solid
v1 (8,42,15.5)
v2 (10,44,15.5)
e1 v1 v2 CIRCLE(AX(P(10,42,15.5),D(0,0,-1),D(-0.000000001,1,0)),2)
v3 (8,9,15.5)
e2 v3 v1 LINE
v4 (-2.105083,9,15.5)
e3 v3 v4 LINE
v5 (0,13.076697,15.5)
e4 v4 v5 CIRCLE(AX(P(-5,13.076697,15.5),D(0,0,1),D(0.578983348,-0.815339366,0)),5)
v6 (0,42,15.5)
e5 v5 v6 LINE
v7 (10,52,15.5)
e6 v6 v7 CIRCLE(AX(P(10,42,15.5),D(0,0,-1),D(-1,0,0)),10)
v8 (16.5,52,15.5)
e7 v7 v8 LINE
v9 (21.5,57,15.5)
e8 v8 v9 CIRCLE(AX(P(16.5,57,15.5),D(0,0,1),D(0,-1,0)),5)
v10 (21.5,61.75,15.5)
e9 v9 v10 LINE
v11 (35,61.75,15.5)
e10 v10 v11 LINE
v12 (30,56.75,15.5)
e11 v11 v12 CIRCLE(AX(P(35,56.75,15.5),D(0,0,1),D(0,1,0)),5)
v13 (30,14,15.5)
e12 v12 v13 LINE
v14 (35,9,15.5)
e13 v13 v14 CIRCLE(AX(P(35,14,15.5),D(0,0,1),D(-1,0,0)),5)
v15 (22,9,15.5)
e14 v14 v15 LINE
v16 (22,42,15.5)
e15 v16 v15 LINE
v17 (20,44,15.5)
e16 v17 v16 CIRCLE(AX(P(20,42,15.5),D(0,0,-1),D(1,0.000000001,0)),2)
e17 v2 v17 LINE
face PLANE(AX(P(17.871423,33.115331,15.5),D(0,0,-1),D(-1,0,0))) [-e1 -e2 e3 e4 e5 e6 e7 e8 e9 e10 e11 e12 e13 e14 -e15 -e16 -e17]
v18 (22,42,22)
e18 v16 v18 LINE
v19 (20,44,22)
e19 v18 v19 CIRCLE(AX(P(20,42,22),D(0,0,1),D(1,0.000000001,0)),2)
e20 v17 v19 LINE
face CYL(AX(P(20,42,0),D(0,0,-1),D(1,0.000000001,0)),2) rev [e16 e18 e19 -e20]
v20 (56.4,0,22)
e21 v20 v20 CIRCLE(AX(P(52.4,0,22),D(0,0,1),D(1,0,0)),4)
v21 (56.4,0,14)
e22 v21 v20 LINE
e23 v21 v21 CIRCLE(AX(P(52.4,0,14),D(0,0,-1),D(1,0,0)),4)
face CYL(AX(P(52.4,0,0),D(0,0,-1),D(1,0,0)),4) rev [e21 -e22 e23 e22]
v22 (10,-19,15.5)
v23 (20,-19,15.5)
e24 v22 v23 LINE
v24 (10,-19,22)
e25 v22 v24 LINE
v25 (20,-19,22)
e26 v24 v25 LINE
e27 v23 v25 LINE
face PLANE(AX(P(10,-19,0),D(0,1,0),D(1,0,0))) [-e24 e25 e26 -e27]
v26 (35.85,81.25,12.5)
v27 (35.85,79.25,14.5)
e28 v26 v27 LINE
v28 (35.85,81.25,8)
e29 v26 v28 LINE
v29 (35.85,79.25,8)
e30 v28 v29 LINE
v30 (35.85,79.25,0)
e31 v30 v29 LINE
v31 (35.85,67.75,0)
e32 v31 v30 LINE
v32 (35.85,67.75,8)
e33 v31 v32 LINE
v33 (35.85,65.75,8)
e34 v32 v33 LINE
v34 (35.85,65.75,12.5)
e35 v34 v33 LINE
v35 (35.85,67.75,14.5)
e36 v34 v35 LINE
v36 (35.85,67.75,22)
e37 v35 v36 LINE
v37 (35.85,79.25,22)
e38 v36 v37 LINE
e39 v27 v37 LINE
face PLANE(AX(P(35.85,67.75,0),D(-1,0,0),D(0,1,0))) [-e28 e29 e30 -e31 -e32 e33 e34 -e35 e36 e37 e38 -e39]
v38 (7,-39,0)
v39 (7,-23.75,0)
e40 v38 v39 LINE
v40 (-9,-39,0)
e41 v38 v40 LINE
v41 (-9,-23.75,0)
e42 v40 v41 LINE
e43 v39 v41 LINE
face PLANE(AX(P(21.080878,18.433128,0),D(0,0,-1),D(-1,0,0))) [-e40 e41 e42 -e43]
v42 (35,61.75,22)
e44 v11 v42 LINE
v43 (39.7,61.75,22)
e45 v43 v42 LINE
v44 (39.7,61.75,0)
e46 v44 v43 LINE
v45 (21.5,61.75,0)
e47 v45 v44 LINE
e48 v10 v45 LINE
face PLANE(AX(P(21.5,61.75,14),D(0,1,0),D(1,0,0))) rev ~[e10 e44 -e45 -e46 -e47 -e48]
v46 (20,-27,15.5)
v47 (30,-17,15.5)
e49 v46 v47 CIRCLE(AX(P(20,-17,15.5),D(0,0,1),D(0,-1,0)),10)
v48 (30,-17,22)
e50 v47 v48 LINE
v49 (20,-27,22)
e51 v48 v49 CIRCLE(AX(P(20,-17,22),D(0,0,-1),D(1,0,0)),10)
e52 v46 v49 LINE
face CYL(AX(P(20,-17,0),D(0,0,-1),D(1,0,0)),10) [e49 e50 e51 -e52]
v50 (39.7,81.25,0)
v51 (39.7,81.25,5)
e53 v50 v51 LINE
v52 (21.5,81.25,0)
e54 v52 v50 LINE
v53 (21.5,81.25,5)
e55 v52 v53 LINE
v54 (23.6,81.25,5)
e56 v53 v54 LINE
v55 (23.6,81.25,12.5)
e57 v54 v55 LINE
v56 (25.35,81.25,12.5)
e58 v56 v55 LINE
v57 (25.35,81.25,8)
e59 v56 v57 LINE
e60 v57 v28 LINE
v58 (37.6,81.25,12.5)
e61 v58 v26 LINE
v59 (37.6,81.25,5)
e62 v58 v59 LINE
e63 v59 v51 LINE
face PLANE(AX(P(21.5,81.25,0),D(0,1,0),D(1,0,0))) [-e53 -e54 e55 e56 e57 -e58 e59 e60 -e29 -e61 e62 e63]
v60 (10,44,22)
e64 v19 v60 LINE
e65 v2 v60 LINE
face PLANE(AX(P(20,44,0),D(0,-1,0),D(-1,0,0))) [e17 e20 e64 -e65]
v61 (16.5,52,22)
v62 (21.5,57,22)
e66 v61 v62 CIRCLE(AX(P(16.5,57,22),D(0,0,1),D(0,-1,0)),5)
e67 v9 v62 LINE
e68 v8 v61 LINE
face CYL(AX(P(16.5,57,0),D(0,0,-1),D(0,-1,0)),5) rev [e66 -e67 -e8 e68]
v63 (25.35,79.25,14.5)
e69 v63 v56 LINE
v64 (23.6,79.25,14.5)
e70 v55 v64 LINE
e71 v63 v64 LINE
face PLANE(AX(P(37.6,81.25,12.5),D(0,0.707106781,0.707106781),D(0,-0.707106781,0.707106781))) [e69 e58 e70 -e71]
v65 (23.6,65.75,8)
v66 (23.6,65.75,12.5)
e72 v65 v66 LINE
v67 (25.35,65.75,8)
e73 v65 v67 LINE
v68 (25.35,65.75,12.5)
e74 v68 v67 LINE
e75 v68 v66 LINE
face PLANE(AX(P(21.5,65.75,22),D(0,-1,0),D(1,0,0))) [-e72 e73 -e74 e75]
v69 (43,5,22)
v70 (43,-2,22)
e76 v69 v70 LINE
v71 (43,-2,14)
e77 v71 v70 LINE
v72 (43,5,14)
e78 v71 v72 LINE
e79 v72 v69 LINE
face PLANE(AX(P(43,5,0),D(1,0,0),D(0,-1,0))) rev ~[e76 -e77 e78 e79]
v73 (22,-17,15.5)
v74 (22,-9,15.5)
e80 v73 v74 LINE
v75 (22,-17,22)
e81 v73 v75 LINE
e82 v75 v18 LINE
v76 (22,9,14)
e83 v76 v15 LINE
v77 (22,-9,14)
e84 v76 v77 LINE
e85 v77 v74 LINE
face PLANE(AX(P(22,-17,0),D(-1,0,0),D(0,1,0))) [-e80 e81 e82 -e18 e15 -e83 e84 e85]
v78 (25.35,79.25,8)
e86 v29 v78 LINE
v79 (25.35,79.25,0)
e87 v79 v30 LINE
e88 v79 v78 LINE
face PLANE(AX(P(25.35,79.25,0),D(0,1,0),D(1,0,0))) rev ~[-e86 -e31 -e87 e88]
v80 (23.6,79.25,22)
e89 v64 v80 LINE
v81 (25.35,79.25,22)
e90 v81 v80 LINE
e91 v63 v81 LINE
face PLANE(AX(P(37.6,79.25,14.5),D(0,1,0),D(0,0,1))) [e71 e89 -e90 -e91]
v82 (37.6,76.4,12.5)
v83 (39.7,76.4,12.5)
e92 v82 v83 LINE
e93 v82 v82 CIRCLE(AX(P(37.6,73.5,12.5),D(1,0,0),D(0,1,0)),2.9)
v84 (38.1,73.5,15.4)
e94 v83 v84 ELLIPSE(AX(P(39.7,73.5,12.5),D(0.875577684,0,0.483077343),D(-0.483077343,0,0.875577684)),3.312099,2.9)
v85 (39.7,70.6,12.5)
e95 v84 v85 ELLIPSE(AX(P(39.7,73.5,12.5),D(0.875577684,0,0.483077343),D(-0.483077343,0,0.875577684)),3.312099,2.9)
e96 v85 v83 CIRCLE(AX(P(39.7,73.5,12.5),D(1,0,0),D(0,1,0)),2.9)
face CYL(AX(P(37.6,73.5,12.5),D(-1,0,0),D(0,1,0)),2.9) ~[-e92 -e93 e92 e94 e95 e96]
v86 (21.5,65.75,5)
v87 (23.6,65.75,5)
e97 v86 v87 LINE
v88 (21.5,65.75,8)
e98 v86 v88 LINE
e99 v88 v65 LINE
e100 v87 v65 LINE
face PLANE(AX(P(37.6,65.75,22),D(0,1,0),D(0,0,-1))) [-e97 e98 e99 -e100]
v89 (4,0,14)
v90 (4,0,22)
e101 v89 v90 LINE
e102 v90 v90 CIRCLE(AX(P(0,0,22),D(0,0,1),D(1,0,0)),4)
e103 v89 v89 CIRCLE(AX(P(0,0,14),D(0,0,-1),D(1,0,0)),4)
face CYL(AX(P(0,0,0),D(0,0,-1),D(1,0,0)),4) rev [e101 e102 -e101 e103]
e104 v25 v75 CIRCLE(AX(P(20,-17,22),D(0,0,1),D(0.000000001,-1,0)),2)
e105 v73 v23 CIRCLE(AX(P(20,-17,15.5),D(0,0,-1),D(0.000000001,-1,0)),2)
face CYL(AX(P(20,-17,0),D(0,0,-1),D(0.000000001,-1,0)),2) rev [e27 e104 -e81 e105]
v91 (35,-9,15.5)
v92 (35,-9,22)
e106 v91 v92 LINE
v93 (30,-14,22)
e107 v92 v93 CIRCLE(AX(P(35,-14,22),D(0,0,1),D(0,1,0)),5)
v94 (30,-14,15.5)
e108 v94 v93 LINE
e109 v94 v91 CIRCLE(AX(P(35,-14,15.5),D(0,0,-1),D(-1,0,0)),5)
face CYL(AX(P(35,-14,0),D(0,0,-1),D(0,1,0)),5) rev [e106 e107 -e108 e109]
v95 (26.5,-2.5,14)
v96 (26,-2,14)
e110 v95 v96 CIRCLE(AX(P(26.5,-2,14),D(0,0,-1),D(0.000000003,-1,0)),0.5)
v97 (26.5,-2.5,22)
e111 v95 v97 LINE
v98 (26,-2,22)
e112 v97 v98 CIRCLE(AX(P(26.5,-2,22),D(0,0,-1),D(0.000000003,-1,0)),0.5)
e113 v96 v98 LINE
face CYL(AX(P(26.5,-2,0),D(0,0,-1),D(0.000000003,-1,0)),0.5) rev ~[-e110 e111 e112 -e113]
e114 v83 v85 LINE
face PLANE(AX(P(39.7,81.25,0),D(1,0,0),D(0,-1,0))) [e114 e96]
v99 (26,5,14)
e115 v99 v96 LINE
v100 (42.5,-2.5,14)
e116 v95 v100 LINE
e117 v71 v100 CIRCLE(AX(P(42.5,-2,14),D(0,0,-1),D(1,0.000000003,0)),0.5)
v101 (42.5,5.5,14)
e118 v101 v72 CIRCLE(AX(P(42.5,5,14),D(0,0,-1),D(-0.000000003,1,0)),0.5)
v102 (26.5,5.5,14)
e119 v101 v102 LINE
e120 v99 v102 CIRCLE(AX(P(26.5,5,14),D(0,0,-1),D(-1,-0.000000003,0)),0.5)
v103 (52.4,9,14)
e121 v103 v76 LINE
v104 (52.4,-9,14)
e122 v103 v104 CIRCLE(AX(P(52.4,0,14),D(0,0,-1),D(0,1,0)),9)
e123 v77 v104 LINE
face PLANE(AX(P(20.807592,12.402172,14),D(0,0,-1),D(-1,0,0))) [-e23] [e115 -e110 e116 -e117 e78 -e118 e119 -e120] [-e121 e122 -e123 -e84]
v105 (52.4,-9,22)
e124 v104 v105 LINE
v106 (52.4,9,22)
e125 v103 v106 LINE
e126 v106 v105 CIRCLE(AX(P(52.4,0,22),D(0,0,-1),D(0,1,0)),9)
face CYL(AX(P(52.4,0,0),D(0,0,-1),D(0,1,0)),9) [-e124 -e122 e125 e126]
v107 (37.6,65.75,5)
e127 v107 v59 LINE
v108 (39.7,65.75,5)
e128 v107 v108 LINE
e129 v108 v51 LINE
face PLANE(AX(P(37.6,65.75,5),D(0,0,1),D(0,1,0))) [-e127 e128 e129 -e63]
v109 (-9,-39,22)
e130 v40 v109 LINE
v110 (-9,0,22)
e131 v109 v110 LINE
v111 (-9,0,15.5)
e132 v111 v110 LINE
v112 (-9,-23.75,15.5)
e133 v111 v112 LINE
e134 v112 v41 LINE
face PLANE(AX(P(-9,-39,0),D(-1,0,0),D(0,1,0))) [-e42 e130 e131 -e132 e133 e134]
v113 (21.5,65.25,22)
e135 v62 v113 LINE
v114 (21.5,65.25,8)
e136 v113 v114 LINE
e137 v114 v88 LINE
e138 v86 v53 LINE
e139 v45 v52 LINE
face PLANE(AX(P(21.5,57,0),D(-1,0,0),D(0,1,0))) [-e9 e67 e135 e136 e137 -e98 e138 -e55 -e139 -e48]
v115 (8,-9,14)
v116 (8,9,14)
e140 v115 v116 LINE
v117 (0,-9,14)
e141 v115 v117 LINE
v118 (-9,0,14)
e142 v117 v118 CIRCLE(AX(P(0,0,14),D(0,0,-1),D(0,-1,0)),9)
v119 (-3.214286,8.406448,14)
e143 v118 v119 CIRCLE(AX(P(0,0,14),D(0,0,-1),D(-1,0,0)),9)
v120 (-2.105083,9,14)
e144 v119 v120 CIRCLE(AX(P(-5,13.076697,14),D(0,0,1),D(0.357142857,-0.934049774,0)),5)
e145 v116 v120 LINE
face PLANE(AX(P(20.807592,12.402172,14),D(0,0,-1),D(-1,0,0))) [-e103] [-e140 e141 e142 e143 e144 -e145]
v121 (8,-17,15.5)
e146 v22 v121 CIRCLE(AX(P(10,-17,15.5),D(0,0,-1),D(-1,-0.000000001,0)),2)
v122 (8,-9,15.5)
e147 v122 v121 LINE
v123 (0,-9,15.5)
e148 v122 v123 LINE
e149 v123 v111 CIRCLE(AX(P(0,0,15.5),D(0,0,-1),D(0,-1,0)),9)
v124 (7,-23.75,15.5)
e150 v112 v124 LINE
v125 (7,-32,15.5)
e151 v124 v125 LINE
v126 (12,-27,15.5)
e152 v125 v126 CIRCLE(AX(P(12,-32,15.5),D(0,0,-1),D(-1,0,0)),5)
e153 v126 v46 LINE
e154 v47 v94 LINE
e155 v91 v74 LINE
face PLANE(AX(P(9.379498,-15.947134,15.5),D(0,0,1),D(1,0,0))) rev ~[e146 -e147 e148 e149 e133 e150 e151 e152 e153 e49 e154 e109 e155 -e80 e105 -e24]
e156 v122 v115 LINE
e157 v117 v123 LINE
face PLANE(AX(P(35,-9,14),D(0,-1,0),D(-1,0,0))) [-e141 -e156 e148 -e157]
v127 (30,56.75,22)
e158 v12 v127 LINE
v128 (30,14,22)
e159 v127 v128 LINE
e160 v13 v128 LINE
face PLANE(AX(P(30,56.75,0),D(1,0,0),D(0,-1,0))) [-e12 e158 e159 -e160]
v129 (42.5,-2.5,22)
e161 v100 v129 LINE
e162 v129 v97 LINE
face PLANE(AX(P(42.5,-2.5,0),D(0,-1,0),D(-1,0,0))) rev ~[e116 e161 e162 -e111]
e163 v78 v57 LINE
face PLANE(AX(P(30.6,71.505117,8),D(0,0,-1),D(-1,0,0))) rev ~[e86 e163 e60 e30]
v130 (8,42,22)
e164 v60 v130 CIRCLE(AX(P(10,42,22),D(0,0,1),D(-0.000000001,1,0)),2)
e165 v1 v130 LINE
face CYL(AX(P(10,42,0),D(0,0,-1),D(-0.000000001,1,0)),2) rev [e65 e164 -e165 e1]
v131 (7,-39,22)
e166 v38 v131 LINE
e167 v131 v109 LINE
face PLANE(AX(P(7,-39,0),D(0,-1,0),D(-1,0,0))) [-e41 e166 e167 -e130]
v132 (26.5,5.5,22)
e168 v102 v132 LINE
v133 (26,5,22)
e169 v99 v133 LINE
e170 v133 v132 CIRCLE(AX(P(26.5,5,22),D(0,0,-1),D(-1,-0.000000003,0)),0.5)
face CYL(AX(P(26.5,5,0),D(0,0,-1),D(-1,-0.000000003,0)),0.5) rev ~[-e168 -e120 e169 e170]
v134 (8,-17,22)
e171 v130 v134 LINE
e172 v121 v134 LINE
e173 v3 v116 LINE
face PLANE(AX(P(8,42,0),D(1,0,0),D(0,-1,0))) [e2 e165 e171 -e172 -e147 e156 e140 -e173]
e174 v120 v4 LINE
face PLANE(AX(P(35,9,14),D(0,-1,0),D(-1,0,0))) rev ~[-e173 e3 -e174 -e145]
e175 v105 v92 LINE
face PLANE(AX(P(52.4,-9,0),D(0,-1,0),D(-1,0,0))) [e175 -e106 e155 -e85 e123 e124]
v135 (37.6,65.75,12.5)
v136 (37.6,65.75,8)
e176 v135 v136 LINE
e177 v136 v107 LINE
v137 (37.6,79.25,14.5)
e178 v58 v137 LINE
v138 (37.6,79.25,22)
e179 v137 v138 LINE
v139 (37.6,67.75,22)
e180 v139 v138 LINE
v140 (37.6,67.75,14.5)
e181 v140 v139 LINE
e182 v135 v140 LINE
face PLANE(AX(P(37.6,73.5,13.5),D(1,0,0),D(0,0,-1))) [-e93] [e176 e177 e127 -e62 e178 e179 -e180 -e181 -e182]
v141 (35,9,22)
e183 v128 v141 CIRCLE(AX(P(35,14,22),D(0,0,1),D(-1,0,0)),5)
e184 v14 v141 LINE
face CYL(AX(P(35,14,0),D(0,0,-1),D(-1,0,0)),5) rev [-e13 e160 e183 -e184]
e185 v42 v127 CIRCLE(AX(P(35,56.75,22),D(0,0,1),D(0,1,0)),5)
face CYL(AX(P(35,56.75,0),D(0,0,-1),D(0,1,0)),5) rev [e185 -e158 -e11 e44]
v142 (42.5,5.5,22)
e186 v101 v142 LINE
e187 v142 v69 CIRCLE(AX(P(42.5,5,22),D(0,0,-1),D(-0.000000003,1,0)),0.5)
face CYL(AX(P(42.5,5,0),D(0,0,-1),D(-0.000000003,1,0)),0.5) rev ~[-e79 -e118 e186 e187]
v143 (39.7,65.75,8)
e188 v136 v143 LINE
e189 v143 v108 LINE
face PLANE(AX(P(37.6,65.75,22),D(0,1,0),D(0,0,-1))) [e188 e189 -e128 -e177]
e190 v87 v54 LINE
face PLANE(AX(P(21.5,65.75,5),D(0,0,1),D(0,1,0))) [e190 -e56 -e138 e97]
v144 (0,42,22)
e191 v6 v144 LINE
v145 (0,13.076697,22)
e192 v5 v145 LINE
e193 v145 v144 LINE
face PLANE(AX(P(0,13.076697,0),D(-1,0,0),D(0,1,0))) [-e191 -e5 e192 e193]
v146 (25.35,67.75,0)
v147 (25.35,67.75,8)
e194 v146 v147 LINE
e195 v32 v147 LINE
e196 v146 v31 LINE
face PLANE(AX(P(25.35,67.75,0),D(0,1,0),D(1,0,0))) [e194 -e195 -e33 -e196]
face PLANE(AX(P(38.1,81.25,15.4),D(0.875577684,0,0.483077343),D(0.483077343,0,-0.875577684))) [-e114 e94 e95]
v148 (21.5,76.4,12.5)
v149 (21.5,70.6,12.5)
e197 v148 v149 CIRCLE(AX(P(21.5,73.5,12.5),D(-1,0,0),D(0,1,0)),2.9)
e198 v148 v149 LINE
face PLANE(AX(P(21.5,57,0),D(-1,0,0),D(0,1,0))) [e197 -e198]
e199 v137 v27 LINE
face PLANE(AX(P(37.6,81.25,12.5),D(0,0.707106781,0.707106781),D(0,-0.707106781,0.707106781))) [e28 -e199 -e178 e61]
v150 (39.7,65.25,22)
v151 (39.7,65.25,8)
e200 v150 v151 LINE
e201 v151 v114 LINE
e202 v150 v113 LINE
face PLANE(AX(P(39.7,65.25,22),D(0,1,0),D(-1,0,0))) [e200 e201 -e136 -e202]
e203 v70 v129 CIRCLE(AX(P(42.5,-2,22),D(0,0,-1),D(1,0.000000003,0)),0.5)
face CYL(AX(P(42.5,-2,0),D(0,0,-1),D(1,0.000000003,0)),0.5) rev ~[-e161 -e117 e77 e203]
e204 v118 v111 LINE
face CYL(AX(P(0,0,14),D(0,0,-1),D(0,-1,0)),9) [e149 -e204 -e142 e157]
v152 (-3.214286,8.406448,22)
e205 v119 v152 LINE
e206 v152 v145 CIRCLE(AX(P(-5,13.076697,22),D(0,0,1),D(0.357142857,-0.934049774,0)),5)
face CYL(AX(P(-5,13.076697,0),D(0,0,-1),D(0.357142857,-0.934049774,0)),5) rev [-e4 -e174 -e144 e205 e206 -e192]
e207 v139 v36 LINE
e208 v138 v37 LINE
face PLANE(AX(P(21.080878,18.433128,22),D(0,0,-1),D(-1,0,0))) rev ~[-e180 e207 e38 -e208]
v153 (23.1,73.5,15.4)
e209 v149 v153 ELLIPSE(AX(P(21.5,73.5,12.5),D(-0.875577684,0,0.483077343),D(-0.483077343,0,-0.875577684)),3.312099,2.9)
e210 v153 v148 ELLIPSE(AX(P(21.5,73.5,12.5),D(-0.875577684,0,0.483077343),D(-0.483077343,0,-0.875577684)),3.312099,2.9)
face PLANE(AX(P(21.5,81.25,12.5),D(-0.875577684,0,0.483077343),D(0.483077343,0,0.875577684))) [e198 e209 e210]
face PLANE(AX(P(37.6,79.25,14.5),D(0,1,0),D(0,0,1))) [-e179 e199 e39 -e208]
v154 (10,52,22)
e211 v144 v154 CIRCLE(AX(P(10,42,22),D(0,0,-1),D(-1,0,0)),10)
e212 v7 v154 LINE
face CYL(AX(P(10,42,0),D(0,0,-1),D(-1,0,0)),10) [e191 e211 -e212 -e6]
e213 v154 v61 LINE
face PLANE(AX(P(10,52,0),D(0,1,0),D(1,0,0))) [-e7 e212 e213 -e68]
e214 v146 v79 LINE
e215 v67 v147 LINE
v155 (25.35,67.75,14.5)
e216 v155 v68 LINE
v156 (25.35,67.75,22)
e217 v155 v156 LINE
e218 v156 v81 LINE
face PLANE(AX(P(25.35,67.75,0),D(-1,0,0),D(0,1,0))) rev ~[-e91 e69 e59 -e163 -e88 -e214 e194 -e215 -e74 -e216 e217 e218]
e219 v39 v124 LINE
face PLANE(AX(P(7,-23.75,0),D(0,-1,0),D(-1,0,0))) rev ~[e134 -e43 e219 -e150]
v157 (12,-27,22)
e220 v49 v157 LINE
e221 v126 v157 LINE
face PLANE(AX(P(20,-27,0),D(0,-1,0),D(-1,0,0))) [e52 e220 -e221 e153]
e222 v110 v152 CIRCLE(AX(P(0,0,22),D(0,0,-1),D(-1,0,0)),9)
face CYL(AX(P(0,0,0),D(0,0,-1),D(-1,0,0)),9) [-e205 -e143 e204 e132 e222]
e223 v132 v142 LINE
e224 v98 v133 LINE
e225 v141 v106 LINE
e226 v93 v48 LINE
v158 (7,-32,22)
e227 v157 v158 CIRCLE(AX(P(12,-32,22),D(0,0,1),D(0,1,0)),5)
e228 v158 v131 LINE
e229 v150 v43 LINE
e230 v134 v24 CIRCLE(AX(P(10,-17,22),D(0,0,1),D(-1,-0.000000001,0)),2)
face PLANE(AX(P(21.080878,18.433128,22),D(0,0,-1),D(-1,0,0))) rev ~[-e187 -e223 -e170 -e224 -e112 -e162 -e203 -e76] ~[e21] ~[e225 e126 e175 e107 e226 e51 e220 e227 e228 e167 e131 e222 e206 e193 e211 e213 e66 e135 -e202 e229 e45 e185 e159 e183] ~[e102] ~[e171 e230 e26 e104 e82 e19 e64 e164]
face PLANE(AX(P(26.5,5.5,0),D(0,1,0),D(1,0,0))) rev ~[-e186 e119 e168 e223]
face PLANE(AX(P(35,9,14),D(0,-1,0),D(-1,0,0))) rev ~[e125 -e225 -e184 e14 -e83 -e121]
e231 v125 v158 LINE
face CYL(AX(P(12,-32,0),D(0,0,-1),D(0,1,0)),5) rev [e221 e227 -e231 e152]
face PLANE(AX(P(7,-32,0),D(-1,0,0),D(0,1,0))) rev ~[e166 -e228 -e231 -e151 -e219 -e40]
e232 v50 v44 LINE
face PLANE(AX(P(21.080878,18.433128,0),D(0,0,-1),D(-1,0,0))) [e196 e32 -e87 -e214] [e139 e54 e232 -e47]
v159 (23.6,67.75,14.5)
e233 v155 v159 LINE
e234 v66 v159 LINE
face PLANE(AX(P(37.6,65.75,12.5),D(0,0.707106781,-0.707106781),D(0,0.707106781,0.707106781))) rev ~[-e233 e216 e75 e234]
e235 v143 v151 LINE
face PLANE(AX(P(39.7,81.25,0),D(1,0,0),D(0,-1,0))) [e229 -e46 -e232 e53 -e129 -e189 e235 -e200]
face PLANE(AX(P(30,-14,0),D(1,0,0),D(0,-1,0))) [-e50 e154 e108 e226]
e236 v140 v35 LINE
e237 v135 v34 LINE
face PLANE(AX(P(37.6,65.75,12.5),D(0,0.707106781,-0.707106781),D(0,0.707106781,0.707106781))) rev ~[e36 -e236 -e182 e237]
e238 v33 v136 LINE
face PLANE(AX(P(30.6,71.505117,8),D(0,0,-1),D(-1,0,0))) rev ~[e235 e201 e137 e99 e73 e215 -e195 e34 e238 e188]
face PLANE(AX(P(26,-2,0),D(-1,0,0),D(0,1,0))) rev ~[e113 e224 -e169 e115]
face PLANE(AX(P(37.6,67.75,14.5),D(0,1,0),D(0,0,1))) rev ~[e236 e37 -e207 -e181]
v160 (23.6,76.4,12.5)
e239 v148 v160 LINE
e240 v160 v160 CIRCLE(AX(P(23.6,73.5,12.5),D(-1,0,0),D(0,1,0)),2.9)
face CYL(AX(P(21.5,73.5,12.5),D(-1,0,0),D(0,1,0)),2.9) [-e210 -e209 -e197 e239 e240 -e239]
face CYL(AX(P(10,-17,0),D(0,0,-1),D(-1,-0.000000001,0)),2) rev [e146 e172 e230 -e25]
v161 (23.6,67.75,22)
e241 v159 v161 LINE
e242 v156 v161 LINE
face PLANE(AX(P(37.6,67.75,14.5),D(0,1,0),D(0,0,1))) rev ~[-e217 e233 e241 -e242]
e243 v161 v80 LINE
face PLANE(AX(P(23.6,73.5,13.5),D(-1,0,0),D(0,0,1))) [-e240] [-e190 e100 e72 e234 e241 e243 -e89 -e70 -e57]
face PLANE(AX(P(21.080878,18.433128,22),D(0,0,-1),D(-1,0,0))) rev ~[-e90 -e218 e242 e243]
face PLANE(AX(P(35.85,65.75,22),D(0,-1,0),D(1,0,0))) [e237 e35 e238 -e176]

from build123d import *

# Parameters (mm, degrees)
SKETCH1_R           = 4
SKETCH1_W           = 10.5
SKETCH1_H           = 11.5
BOSS_EXTRUDE1_DEPTH = 22
CUT_EXTRUDE1_DEPTH  = 14
SKETCH5_W           = 17
SKETCH5_H           = 15.5
SKETCH5_R           = 2.9
CUT_EXTRUDE2_DEPTH  = 2.1
CUT_EXTRUDE3_START  = -2.1
SKETCH4_W           = 17
SKETCH4_H           = 15.5
SKETCH4_R           = 2.9
CUT_EXTRUDE3_DEPTH  = 2.1
CUT_EXTRUDE4_START  = -16.1
CUT_EXTRUDE4_DEPTH  = 14
CUT_EXTRUDE5_DEPTH  = 14
CUT_EXTRUDE6_REACH  = 138.799
CUT_EXTRUDE8_DEPTH  = 1.5


with BuildPart() as part:
    # Sketch1 → Boss-Extrude1 (new body)
    with BuildSketch(Plane.XY):
        with BuildLine():
            Line((0, 13.076696831), (0, 42))
            ThreePointArc((0, 42), (2.928932188, 49.071067812), (10, 52))
            Line((10, 52), (16.5, 52))
            ThreePointArc((16.5, 52), (20.035533906, 53.464466094), (21.5, 57))
            Line((21.5, 57), (21.5, 81.25))
            Line((21.5, 81.25), (39.7, 81.25))
            Line((39.7, 81.25), (39.7, 61.75))
            Line((39.7, 61.75), (35, 61.75))
            ThreePointArc((35, 61.75), (31.464466094, 60.285533906), (30, 56.75))
            Line((30, 56.75), (30, 14))
            ThreePointArc((30, 14), (31.464466094, 10.464466094), (35, 9))
            Line((35, 9), (52.4, 9))
            ThreePointArc((52.4, 9), (61.4, 0), (52.4, -9))
            Line((52.4, -9), (35, -9))
            ThreePointArc((35, -9), (31.464466094, -10.464466094), (30, -14))
            Line((30, -14), (30, -17))
            ThreePointArc((30, -17), (27.071067812, -24.071067812), (20, -27))
            Line((20, -27), (12, -27))
            ThreePointArc((12, -27), (8.464466094, -28.464466094), (7, -32))
            Line((7, -32), (7, -39))
            Line((7, -39), (-9, -39))
            Line((-9, -39), (-9, 0))
            ThreePointArc((-9, 0), (-7.413790239, 5.102520386), (-3.214285714, 8.406447963))
            ThreePointArc((-3.214285714, 8.406447963), (-0.881227645, 10.241963283), (0, 13.076696831))
        make_face()
        Circle(SKETCH1_R, mode=Mode.SUBTRACT)
        with Locations((52.4, 0)):
            Circle(SKETCH1_R, mode=Mode.SUBTRACT)
        with BuildLine():
            Line((42.5, -2.5), (26.5, -2.5))
            ThreePointArc((26.5, -2.5), (26.146446609, -2.353553391), (26, -2))
            Line((26, -2), (26, 5))
            ThreePointArc((26, 5), (26.146446609, 5.353553391), (26.5, 5.5))
            Line((26.5, 5.5), (42.5, 5.5))
            ThreePointArc((42.5, 5.5), (42.853553391, 5.353553391), (43, 5))
            Line((43, 5), (43, -2))
            ThreePointArc((43, -2), (42.853553391, -2.353553391), (42.5, -2.5))
        make_face(mode=Mode.SUBTRACT)
        with BuildLine():
            Line((8, 42), (8, -17))
            ThreePointArc((8, -17), (8.585786438, -18.414213562), (10, -19))
            Line((10, -19), (20, -19))
            ThreePointArc((20, -19), (21.414213562, -18.414213562), (22, -17))
            Line((22, -17), (22, 42))
            ThreePointArc((22, 42), (21.414213562, 43.414213562), (20, 44))
            Line((20, 44), (10, 44))
            ThreePointArc((10, 44), (8.585786438, 43.414213562), (8, 42))
        make_face(mode=Mode.SUBTRACT)
        with Locations((30.6, 73.5)):
            Rectangle(SKETCH1_W, SKETCH1_H, mode=Mode.SUBTRACT)
    extrude(amount=BOSS_EXTRUDE1_DEPTH)

    # Sketch3 → Cut-Extrude1 (cut)
    with BuildSketch(Plane(origin=(0, 0, 0), x_dir=(-1, 0, 0), z_dir=(0, 0, -1))):
        with BuildLine():
            Line((-21.5, 61.75), (-35, 61.75))
            ThreePointArc((-35, 61.75), (-31.464466094, 60.285533906), (-30, 56.75))
            Line((-30, 56.75), (-30, 14))
            ThreePointArc((-30, 14), (-31.464466094, 10.464466094), (-35, 9))
            Line((-35, 9), (-52.4, 9))
            ThreePointArc((-52.4, 9), (-61.4, 0), (-52.4, -9))
            Line((-52.4, -9), (-35, -9))
            ThreePointArc((-35, -9), (-31.464466094, -10.464466094), (-30, -14))
            Line((-30, -14), (-30, -17))
            ThreePointArc((-30, -17), (-27.071067812, -24.071067812), (-20, -27))
            Line((-20, -27), (-12, -27))
            ThreePointArc((-12, -27), (-8.464466094, -28.464466094), (-7, -32))
            Line((-7, -32), (-7, -23.75))
            Line((-7, -23.75), (9, -23.75))
            Line((9, -23.75), (9, 0))
            ThreePointArc((9, 0), (7.413790239, 5.102520386), (3.214285714, 8.406447963))
            ThreePointArc((3.214285714, 8.406447963), (0.881227645, 10.241963283), (0, 13.076696831))
            Line((0, 13.076696831), (0, 42))
            ThreePointArc((0, 42), (-2.928932188, 49.071067812), (-10, 52))
            Line((-10, 52), (-16.5, 52))
            ThreePointArc((-16.5, 52), (-20.035533906, 53.464466094), (-21.5, 57))
            Line((-21.5, 57), (-21.5, 61.75))
        make_face()
    extrude(amount=-CUT_EXTRUDE1_DEPTH, mode=Mode.SUBTRACT)

    # Sketch5 → Cut-Extrude2 (cut)
    with BuildSketch(Plane.ZY.offset(-21.5)):
        with Locations((13.5, 73.5)):
            Rectangle(SKETCH5_W, SKETCH5_H)
        with Locations(Location((12.5, 73.5, 0), (0, 0, 90))):
            Circle(SKETCH5_R, mode=Mode.SUBTRACT)
    extrude(amount=-CUT_EXTRUDE2_DEPTH, mode=Mode.SUBTRACT)

    # Sketch4 → Cut-Extrude3 (cut)
    with BuildSketch(Plane(origin=(39.7, 0, 0), x_dir=(0, 0, -1), z_dir=(1, 0, 0)).offset(CUT_EXTRUDE3_START)):
        with Locations((-13.5, 73.5)):
            Rectangle(SKETCH4_W, SKETCH4_H)
        with Locations(Location((-12.5, 73.5, 0), (0, 0, 90))):
            Circle(SKETCH4_R, mode=Mode.SUBTRACT)
    extrude(amount=CUT_EXTRUDE3_DEPTH, mode=Mode.SUBTRACT)

    # Sketch6 → Cut-Extrude4 (cut)
    with BuildSketch(Plane.ZY.offset(-21.5).offset(CUT_EXTRUDE4_START)):
        Polygon((12.5, 81.25), (14.5, 79.25), (22, 79.25), (22, 81.25), align=None)
        Polygon((12.5, 65.75), (14.5, 67.75), (22, 67.75), (22, 65.75), align=None)
    extrude(amount=CUT_EXTRUDE4_DEPTH, mode=Mode.SUBTRACT)

    # Sketch7 → Cut-Extrude5 (cut)
    with BuildSketch(Plane.XY.offset(22)):
        Polygon((25.35, 81.25), (35.85, 81.25), (35.85, 65.75), (39.7, 65.75), (39.7, 65.25), (21.5, 65.25), (21.5, 65.75), (25.35, 65.75), align=None)
    extrude(amount=-CUT_EXTRUDE5_DEPTH, mode=Mode.SUBTRACT)

    # Cut-Extrude6: up to this face of the body (flat: up to its plane)
    cut_extrude6_end = Plane(part.part.faces().sort_by_distance((22.55, 65.75, 6.5))[0])
    # Sketch8 → Cut-Extrude6 (cut, up to the picked face)
    with BuildSketch(Plane(origin=(0, 81.25, 0), x_dir=(1, 0, 0), z_dir=(0, 1, 0)), mode=Mode.PRIVATE) as cut_extrude6_sk1:
        Polygon((21.5, -12.5), (23.1, -15.4), (21.5, -15.4), align=None)
    cut_extrude6_tool1 = split(extrude(cut_extrude6_sk1.sketch, amount=-CUT_EXTRUDE6_REACH, mode=Mode.PRIVATE), bisect_by=cut_extrude6_end, keep=Keep.BOTH, mode=Mode.PRIVATE)
    # Sketch8 → Cut-Extrude6 (cut, up to the picked face)
    with BuildSketch(Plane(origin=(0, 81.25, 0), x_dir=(1, 0, 0), z_dir=(0, 1, 0)), mode=Mode.PRIVATE) as cut_extrude6_sk2:
        Polygon((39.7, -15.4), (38.1, -15.4), (39.7, -12.5), align=None)
    cut_extrude6_tool2 = split(extrude(cut_extrude6_sk2.sketch, amount=-CUT_EXTRUDE6_REACH, mode=Mode.PRIVATE), bisect_by=cut_extrude6_end, keep=Keep.BOTH, mode=Mode.PRIVATE)
    add(cut_extrude6_tool1.solids().sort_by(Axis((22.033333, 81.25, 14.433333), (0, -1, 0)))[0], mode=Mode.SUBTRACT)
    add(cut_extrude6_tool2.solids().sort_by(Axis((39.166667, 81.25, 14.433333), (0, -1, 0)))[0], mode=Mode.SUBTRACT)

    # Sketch10 → Cut-Extrude8 (cut)
    with BuildSketch(Plane(origin=(0, 0, 14), x_dir=(-1, 0, 0), z_dir=(0, 0, -1))):
        with BuildLine():
            Line((-35, 9), (2.105083257, 9))
            ThreePointArc((2.105083257, 9), (0.557332799, 10.782637515), (0, 13.076696831))
            Line((0, 13.076696831), (0, 42))
            ThreePointArc((0, 42), (-2.928932188, 49.071067812), (-10, 52))
            Line((-10, 52), (-16.5, 52))
            ThreePointArc((-16.5, 52), (-20.035533906, 53.464466094), (-21.5, 57))
            Line((-21.5, 57), (-21.5, 61.75))
            Line((-21.5, 61.75), (-35, 61.75))
            ThreePointArc((-35, 61.75), (-31.464466094, 60.285533906), (-30, 56.75))
            Line((-30, 56.75), (-30, 14))
            ThreePointArc((-30, 14), (-31.464466094, 10.464466094), (-35, 9))
        make_face()
        with BuildLine():
            Line((-35, -9), (0, -9))
            ThreePointArc((0, -9), (6.363961031, -6.363961031), (9, 0))
            Line((9, 0), (9, -23.75))
            Line((9, -23.75), (-7, -23.75))
            Line((-7, -23.75), (-7, -32))
            ThreePointArc((-7, -32), (-8.464466094, -28.464466094), (-12, -27))
            Line((-12, -27), (-20, -27))
            ThreePointArc((-20, -27), (-27.071067812, -24.071067812), (-30, -17))
            Line((-30, -17), (-30, -14))
            ThreePointArc((-30, -14), (-31.464466094, -10.464466094), (-35, -9))
        make_face()
    extrude(amount=-CUT_EXTRUDE8_DEPTH, mode=Mode.SUBTRACT)


solid = part.part
